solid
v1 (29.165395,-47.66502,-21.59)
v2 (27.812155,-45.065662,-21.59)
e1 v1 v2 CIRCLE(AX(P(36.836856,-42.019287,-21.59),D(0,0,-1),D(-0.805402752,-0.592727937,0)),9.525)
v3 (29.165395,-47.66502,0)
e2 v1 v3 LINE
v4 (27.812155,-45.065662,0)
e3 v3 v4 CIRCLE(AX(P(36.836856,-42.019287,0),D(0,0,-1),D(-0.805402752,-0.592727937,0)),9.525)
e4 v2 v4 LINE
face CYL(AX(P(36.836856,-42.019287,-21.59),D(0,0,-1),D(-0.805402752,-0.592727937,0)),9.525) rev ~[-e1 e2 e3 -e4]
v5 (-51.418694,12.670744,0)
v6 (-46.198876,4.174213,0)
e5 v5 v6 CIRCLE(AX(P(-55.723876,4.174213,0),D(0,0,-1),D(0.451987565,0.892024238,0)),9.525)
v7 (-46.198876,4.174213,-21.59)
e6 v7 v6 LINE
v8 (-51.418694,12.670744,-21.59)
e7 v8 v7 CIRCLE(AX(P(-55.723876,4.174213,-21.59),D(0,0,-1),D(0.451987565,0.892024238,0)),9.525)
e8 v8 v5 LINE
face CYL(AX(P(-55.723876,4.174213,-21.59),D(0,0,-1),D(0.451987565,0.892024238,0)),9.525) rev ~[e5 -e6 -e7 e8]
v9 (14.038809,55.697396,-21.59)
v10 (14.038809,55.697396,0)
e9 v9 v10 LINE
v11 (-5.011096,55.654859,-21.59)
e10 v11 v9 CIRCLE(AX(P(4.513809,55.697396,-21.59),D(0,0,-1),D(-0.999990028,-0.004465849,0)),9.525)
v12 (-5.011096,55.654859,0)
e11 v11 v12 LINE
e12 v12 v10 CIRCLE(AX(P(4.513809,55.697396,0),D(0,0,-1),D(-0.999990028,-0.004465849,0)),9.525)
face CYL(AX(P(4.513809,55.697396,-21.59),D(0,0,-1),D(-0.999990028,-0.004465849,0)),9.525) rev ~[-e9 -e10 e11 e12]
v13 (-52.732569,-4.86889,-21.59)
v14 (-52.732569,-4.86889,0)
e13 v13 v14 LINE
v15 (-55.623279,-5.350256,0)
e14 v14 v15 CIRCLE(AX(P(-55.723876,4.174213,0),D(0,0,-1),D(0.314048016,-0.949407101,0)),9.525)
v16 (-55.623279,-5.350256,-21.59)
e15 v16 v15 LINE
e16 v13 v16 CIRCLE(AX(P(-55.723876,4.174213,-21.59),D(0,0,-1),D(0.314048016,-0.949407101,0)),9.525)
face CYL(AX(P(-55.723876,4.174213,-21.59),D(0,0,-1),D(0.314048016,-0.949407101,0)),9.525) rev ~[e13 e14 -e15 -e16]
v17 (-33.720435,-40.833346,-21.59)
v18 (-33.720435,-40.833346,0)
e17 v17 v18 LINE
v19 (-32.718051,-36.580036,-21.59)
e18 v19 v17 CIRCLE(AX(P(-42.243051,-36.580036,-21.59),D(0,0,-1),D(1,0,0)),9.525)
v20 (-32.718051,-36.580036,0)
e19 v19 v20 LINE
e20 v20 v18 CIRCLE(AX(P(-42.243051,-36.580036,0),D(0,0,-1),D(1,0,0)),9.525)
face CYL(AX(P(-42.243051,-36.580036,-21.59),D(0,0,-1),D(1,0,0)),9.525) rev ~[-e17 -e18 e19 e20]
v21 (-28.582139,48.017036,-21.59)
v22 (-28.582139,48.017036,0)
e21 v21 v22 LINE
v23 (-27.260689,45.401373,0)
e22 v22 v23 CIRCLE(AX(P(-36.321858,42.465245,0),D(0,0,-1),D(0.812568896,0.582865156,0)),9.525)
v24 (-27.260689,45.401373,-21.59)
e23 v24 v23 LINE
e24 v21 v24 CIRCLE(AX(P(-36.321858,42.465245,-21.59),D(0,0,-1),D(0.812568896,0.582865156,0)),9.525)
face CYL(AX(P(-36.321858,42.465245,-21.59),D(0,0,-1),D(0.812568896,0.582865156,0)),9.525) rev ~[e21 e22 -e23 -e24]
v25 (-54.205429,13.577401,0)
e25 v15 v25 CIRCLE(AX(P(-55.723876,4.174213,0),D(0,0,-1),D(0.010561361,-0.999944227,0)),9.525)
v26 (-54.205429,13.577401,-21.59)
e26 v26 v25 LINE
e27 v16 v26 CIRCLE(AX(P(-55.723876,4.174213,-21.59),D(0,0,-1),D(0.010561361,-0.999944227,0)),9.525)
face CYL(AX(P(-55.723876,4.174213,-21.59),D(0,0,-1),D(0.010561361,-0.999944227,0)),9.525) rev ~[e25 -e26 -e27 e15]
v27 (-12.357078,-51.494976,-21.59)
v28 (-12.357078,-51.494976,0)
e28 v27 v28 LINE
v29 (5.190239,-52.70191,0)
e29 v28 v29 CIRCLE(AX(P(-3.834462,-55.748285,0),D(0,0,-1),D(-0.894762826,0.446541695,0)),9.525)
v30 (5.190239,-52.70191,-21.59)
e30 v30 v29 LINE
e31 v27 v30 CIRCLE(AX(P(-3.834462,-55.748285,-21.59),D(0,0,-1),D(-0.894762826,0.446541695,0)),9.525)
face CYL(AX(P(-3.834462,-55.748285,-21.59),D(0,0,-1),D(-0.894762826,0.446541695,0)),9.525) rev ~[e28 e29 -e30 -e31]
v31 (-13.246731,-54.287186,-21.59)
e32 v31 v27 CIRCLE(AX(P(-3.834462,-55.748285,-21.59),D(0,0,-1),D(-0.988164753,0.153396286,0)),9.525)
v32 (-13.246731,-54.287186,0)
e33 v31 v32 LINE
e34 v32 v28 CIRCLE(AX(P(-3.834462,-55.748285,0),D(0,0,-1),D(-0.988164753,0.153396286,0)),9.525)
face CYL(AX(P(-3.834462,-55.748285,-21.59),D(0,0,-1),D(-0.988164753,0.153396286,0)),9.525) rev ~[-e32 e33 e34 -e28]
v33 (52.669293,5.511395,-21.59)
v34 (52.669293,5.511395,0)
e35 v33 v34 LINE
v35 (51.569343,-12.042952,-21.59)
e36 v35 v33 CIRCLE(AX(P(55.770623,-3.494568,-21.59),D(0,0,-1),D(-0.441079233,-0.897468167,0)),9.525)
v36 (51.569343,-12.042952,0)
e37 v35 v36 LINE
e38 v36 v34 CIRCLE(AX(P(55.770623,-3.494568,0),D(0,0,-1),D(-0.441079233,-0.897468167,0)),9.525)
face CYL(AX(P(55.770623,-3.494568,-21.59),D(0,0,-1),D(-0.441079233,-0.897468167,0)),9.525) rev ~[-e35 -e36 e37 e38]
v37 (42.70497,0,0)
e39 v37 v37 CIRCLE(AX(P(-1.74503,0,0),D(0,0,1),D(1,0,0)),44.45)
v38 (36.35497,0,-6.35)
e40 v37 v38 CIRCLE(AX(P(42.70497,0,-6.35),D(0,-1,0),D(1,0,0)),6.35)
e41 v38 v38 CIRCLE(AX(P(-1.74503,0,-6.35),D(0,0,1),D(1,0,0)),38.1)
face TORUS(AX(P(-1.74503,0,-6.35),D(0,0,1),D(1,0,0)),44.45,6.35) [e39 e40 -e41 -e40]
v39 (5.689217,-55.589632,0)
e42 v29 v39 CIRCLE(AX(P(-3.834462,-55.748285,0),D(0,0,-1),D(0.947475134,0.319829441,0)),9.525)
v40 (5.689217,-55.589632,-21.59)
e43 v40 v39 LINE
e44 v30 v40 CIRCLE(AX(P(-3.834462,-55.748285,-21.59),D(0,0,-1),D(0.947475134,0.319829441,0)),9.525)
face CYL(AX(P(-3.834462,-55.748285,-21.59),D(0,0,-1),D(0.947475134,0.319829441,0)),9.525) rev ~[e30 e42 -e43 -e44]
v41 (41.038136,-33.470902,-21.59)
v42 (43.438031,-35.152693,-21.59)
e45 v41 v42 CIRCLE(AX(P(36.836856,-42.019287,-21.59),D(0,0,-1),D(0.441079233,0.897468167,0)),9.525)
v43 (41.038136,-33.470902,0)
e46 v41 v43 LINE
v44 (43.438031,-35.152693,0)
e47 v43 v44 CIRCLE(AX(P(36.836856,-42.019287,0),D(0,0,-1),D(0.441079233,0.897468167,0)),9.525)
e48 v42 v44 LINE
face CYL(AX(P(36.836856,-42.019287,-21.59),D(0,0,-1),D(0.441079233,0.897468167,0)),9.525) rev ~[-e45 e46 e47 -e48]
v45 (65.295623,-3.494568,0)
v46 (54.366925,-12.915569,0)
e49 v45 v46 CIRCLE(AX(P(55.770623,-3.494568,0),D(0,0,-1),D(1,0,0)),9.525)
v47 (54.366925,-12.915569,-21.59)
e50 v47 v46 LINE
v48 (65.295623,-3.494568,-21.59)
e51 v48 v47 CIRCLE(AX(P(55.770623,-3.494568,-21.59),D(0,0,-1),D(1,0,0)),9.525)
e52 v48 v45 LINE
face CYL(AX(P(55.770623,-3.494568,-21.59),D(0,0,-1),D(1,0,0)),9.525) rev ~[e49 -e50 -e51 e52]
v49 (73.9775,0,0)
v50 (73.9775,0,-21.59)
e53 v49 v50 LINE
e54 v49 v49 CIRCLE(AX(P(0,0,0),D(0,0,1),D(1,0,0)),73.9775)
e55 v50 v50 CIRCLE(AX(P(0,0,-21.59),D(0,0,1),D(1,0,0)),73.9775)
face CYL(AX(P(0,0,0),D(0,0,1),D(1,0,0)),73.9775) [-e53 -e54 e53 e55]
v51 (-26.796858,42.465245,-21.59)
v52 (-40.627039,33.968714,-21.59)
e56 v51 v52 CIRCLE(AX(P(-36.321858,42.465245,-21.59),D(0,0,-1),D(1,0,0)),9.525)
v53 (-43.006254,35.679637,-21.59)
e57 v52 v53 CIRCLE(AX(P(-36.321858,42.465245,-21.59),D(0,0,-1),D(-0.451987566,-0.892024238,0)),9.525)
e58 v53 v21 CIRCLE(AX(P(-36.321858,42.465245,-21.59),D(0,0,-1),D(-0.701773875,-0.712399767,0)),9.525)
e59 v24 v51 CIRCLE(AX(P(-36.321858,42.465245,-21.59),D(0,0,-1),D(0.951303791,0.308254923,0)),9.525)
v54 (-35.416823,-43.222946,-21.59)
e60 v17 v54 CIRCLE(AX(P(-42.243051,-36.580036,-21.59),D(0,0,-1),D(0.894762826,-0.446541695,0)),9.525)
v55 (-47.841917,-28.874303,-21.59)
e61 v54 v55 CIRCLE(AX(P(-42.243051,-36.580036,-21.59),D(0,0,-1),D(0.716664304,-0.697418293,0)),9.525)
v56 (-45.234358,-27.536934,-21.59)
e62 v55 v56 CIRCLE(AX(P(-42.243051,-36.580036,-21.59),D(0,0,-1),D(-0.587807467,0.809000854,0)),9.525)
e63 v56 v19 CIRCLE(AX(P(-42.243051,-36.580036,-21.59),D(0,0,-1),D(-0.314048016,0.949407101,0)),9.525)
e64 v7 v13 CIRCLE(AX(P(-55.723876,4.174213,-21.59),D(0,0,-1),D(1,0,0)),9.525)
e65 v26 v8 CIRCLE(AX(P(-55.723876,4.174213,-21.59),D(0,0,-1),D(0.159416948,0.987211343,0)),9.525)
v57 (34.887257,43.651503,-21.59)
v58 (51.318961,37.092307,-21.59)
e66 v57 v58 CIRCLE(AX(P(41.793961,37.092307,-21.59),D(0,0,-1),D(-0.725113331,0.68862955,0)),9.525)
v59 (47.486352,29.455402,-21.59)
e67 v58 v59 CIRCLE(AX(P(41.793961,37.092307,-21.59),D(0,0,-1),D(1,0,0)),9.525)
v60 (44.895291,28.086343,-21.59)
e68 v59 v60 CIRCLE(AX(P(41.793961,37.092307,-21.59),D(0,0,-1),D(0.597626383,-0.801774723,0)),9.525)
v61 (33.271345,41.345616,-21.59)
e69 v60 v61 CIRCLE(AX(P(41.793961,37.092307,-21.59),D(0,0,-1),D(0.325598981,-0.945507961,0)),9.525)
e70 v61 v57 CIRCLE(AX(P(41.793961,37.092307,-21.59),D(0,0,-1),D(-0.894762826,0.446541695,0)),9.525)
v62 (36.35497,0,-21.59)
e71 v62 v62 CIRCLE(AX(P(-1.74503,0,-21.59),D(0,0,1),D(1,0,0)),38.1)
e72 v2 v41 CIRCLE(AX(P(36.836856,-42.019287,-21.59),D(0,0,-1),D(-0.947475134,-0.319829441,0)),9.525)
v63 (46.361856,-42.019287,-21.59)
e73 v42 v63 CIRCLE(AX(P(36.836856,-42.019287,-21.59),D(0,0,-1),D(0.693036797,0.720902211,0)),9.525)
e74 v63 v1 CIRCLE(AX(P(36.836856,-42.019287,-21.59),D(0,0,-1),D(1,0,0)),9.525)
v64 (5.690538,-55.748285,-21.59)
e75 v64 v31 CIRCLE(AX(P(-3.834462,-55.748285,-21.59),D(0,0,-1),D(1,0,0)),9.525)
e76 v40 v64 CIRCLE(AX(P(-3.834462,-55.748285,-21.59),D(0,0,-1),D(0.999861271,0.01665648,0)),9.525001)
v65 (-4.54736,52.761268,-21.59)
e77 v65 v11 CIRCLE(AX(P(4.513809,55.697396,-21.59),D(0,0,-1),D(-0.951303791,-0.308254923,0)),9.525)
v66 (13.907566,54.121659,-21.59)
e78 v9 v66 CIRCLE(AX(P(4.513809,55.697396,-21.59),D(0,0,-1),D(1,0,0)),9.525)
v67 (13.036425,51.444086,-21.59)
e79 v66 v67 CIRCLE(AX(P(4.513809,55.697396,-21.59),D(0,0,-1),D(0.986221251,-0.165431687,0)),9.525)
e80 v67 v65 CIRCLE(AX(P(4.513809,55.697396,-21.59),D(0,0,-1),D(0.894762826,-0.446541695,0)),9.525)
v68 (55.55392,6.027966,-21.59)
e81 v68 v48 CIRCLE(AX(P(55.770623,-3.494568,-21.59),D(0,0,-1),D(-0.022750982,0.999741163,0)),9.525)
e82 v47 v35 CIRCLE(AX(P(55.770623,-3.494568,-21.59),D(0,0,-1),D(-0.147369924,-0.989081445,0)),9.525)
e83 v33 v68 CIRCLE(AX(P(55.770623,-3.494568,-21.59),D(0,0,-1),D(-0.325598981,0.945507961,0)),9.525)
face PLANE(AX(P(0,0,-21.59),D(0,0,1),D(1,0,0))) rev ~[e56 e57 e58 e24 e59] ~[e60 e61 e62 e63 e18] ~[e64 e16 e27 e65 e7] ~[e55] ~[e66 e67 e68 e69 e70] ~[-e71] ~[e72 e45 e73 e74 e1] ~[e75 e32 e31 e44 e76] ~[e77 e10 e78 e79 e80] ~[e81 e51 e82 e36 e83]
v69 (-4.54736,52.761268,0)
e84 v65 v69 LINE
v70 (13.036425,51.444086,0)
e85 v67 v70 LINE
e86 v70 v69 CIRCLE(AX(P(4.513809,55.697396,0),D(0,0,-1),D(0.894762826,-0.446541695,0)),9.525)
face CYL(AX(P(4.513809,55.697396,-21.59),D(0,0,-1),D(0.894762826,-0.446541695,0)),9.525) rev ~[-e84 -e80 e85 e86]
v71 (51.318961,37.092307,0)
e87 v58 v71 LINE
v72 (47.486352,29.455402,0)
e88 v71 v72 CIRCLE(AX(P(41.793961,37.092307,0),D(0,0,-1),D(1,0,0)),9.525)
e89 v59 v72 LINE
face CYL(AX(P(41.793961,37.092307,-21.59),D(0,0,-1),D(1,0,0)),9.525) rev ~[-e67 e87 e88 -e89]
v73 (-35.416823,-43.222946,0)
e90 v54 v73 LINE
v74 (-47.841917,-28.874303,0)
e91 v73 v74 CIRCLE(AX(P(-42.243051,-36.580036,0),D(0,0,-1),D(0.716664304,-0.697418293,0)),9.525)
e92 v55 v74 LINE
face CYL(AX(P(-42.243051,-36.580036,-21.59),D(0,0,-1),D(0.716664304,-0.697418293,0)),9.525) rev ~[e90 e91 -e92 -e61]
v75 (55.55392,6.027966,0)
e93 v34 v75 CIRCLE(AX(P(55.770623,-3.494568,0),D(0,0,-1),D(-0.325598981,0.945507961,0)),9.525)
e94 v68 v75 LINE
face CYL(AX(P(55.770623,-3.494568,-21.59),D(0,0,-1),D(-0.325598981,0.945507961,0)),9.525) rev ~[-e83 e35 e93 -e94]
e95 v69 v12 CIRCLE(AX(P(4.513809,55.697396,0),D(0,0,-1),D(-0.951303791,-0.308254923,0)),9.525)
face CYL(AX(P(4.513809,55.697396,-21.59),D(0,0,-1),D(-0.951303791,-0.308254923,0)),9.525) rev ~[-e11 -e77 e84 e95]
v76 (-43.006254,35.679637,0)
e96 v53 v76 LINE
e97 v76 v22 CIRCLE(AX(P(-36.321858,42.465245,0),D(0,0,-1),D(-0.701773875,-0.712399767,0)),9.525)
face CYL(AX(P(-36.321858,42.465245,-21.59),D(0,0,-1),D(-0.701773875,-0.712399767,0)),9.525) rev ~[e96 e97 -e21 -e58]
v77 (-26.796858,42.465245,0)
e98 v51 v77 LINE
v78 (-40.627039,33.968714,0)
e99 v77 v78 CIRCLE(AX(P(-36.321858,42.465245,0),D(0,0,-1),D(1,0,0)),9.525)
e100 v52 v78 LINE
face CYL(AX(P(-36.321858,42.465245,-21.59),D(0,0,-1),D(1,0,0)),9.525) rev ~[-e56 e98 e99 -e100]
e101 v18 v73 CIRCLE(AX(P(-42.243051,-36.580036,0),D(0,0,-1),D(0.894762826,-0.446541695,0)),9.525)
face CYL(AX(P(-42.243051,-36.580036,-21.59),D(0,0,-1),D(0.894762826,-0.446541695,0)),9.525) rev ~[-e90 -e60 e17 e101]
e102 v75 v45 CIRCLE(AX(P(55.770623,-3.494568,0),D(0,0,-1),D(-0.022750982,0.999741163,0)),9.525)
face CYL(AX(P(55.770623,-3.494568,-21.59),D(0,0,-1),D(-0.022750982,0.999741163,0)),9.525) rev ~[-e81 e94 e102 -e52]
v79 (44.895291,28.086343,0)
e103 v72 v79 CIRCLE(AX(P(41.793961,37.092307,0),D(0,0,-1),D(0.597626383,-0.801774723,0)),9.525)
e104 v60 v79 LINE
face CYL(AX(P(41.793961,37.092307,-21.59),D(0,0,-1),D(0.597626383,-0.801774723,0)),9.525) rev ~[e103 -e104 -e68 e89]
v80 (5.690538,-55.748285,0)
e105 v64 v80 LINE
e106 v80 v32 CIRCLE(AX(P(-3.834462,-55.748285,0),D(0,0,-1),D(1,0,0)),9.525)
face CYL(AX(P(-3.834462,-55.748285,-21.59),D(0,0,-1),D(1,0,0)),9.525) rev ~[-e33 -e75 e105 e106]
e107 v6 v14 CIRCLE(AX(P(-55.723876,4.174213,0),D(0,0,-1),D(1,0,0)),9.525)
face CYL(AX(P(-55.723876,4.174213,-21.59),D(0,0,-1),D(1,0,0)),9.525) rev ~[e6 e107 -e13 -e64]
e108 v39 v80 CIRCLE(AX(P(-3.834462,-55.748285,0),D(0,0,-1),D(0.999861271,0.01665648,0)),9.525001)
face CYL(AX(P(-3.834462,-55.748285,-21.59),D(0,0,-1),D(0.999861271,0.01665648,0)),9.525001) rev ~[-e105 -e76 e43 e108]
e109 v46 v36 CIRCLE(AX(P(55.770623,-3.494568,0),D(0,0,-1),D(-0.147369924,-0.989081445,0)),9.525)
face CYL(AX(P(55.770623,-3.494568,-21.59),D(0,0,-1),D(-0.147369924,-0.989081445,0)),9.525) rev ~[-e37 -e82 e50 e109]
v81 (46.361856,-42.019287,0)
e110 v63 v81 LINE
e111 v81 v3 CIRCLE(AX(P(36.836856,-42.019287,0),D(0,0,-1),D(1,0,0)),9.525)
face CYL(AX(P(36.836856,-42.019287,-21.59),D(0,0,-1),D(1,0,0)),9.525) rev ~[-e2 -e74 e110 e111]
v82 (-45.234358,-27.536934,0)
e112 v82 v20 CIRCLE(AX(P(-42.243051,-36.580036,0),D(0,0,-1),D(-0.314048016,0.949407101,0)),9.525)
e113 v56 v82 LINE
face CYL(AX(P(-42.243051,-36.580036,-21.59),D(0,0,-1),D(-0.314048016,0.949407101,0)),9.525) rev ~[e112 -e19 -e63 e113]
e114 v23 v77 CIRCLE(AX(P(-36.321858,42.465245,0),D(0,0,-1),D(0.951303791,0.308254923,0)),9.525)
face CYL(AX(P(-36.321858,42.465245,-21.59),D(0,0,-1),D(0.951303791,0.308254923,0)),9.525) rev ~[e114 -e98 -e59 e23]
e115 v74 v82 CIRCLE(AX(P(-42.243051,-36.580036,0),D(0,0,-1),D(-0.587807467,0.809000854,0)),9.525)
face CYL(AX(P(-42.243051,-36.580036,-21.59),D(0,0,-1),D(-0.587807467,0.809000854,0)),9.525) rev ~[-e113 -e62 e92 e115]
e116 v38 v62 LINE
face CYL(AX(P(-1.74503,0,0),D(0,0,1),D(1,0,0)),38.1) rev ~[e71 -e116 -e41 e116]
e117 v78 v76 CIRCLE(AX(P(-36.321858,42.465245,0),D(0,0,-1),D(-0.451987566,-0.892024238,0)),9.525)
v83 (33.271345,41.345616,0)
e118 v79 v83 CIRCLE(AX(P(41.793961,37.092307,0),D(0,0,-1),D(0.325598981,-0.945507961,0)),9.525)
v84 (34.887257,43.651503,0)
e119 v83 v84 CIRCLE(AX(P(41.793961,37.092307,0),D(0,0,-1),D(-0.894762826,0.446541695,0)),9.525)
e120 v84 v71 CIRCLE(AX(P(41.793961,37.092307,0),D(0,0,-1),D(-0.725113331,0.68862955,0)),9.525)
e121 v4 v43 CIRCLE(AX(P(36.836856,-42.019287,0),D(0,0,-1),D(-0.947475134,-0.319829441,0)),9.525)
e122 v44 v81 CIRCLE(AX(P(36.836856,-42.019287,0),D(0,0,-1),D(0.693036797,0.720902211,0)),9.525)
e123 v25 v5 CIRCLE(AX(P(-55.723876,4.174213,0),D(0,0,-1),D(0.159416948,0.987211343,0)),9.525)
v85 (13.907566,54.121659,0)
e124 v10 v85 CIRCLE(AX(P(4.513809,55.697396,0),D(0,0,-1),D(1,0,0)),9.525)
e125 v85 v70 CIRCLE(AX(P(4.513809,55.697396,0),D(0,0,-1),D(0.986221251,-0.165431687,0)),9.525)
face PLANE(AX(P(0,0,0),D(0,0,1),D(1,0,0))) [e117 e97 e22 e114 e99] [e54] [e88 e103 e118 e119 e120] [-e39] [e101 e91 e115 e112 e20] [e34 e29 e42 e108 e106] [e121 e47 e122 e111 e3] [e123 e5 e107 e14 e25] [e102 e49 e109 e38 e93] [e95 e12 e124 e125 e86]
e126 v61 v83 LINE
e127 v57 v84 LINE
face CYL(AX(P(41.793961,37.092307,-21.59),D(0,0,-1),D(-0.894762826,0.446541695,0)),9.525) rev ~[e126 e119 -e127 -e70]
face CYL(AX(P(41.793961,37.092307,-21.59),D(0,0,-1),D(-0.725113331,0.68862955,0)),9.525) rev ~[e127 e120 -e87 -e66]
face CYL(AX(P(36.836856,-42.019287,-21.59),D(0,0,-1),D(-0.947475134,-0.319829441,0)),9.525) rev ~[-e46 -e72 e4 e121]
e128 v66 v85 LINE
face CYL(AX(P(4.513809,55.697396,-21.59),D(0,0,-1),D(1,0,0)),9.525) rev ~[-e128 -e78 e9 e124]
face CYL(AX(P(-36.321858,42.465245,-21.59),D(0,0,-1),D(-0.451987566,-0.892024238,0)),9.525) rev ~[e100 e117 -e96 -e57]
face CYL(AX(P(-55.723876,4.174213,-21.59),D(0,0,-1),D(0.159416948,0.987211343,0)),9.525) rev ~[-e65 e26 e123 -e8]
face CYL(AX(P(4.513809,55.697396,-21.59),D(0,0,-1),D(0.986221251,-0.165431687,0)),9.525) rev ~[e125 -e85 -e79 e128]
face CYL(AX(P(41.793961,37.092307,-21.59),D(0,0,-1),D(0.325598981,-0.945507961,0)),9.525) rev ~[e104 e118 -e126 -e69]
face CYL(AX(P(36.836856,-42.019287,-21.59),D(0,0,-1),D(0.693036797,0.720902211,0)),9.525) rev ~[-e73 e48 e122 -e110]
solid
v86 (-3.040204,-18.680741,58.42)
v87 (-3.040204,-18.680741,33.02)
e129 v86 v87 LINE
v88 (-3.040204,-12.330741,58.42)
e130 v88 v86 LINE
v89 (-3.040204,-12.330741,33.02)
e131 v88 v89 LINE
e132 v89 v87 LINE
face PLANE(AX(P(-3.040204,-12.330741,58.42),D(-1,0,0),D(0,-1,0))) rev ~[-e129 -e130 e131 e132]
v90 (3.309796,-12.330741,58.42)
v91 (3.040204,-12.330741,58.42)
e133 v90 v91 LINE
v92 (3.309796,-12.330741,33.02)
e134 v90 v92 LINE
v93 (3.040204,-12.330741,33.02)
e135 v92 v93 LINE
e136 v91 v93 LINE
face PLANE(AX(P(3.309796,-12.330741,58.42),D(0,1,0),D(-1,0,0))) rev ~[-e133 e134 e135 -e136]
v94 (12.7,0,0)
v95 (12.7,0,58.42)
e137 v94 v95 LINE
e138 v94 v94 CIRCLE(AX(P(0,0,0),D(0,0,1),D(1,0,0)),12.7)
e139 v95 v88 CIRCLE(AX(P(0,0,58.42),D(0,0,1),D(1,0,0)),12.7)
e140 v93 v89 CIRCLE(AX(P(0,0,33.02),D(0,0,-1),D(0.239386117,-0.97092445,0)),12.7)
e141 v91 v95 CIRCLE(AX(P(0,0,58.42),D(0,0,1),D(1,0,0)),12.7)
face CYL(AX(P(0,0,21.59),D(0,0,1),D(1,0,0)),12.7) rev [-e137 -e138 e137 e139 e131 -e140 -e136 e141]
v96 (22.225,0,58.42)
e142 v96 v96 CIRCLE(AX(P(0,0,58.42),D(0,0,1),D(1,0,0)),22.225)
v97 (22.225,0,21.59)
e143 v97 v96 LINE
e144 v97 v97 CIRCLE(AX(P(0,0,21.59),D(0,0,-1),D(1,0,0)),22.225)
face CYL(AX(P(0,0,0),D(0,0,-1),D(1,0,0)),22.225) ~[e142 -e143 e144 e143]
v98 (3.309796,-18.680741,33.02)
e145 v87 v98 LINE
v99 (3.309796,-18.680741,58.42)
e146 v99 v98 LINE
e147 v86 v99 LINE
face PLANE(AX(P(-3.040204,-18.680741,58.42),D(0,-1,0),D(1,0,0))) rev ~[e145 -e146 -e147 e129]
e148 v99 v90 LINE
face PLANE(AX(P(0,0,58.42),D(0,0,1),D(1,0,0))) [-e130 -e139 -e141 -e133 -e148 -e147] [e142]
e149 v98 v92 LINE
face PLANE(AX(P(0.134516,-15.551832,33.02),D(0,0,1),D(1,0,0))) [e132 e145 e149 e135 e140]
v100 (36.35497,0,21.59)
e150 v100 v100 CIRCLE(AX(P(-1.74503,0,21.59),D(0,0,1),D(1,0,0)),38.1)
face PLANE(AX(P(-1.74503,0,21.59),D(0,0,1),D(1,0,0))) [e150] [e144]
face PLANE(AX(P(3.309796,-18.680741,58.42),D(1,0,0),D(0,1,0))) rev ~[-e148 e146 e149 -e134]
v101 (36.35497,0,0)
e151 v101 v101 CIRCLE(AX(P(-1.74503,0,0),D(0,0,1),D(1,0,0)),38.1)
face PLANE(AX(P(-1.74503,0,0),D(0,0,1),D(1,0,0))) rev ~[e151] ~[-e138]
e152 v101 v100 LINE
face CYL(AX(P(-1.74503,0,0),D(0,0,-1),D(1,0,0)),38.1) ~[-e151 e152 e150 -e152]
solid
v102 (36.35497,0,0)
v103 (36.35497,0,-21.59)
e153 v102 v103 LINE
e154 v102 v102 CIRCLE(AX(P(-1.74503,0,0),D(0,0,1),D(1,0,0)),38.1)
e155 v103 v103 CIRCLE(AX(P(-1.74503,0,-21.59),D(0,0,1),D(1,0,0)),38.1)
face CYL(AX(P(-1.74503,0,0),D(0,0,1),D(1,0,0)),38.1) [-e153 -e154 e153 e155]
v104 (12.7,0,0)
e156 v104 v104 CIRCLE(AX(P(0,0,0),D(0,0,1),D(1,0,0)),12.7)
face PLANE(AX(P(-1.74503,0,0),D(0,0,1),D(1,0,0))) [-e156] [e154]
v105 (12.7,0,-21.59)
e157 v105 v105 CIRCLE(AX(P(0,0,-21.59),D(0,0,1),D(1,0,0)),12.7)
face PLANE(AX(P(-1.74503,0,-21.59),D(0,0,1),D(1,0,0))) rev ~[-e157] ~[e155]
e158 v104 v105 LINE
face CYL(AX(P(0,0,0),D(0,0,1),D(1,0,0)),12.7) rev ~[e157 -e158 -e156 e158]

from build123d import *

# Parameters (mm, degrees)
F0_R      = 22.225
F0_R_2    = 12.7
F1_DEPTH  = 58.42
F2_R      = 38.1
F3_DEPTH  = 21.59
F4_DEPTH  = 21.591
F2_R_2    = 55.88
F5_DEPTH  = 21.59
F2_R_3    = 73.9775
F6_DEPTH  = 21.59
F7_DEPTH  = 21.59
F8_R      = 12.7
F9_DEPTH  = 21.591
F11_DEPTH = 25.4
F13_DEPTH = 80.011
F14_DEPTH = 80.011
F15_DEPTH = 80.011
F16_DEPTH = 80.011
F17_DEPTH = 80.011
F18_DEPTH = 80.011
F19_DEPTH = 80.011
F20_R     = 6.35


with BuildPart() as f1:
    # F0 (on Top) → F1 (new body)
    with BuildSketch(Plane.XY):
        Circle(F0_R)
        Circle(F0_R_2, mode=Mode.SUBTRACT)
    extrude(amount=F1_DEPTH)

    # F2 (on Top) → F3 (join)
    with BuildSketch(Plane.XY):
        with Locations((-1.7450299347, 0)):
            Circle(F2_R)
    extrude(amount=F3_DEPTH)

    # F4 (cut, through all): a face of the model
    f4_faces = [f1.faces().sort_by_distance(p)[0] for p in [
        (0, 0, 21.59),
    ]]
    extrude(f4_faces, amount=-F4_DEPTH, mode=Mode.SUBTRACT)

    # F10 (on face) → F11 (cut)
    with BuildSketch(Plane.XY.offset(58.42)):
        with BuildLine():
            ThreePointArc((3.0402036796, -12.3307405125), (0, -12.7), (-3.0402036796, -12.3307405125))
            Line((-3.0402036796, -12.3307405125), (-3.0402036796, -18.6807405125))
            Line((-3.0402036796, -18.6807405125), (3.3097963204, -18.6807405125))
            Line((3.3097963204, -18.6807405125), (3.3097963204, -12.3307405125))
            Line((3.3097963204, -12.3307405125), (3.0402036796, -12.3307405125))
        make_face()
    extrude(amount=-F11_DEPTH, mode=Mode.SUBTRACT)


with BuildPart() as f5:
    # F2 (on Top) → F5 (new body)
    with BuildSketch(Plane.XY):
        Circle(F2_R_2)
        with Locations((-1.7450299347, 0)):
            Circle(F2_R, mode=Mode.SUBTRACT)
    extrude(amount=-F5_DEPTH)

    # F2 (on Top) → F6 (join)
    with BuildSketch(Plane.XY):
        Circle(F2_R_3)
        Circle(F2_R_2, mode=Mode.SUBTRACT)
    extrude(amount=-F6_DEPTH)

    # F12 (on face) → F13 (cut, through all)
    with BuildSketch(Plane(origin=(0, 0, -21.59), x_dir=(1, 0, 0), z_dir=(0, 0, -1))):
        with BuildLine():
            ThreePointArc((51.318961174, -37.0923066064), (50.3070584988, -32.8199771552), (47.4863524728, -29.4554023709))
            ThreePointArc((47.4863524728, -29.4554023709), (44.8031715149, -33.3953622859), (41.793961174, -37.0923066064))
            ThreePointArc((41.793961174, -37.0923066064), (38.4806192525, -40.5193329406), (34.8872566955, -43.6515030699))
            ThreePointArc((34.8872566955, -43.6515030699), (45.3251978443, -45.938548327), (51.318961174, -37.0923066064))
        make_face()
        with BuildLine():
            ThreePointArc((34.8872566955, -43.6515030699), (38.4806192525, -40.5193329406), (41.793961174, -37.0923066064))
            Line((41.793961174, -37.0923066064), (33.2713452593, -41.3456162553))
            ThreePointArc((33.2713452593, -41.3456162553), (33.993623973, -42.5586000993), (34.8872566955, -43.6515030699))
        make_face()
        with BuildLine():
            Line((41.793961174, -37.0923066064), (44.8952914687, -28.0863432818))
            ThreePointArc((44.8952914687, -28.0863432818), (34.6315827709, -30.8132970818), (33.2713452593, -41.3456162553))
            Line((33.2713452593, -41.3456162553), (41.793961174, -37.0923066064))
        make_face()
        with BuildLine():
            ThreePointArc((41.793961174, -37.0923066064), (44.8031715149, -33.3953622859), (47.4863524728, -29.4554023709))
            ThreePointArc((47.4863524728, -29.4554023709), (46.243788762, -28.6706286597), (44.8952914687, -28.0863432818))
            Line((44.8952914687, -28.0863432818), (41.793961174, -37.0923066064))
        make_face()
    extrude(amount=-F13_DEPTH, mode=Mode.SUBTRACT)

    # F12 (on face) → F14 (cut, through all)
    with BuildSketch(Plane(origin=(0, 0, -21.59), x_dir=(1, 0, 0), z_dir=(0, 0, -1))):
        with BuildLine():
            Line((52.6692927405, -5.5113952149), (55.7706230351, 3.4945681097))
            Line((55.7706230351, 3.4945681097), (51.5693433404, 12.0429523972))
            ThreePointArc((51.5693433404, 12.0429523972), (46.264266836, 2.898903091), (52.6692927405, -5.5113952149))
        make_face()
        with BuildLine():
            ThreePointArc((55.7706230351, 3.4945681097), (55.8526490652, 1.7481396965), (55.88, 0))
            ThreePointArc((55.88, 0), (55.7984204348, -3.0183897999), (55.5539199361, -6.0279664671))
            ThreePointArc((55.5539199361, -6.0279664671), (62.4287582088, -3.3168092113), (65.2956230351, 3.4945681097))
            ThreePointArc((65.2956230351, 3.4945681097), (61.989762708, 10.7089930161), (54.3669245093, 12.9155688765))
            ThreePointArc((54.3669245093, 12.9155688765), (55.2698711654, 8.2350313518), (55.7706230351, 3.4945681097))
        make_face()
        with BuildLine():
            ThreePointArc((55.5539199361, -6.0279664671), (55.7984204348, -3.0183897999), (55.88, 0))
            ThreePointArc((55.88, 0), (55.8526490652, 1.7481396965), (55.7706230351, 3.4945681097))
            Line((55.7706230351, 3.4945681097), (52.6692927405, -5.5113952149))
            ThreePointArc((52.6692927405, -5.5113952149), (54.0916209908, -5.8812826322), (55.5539199361, -6.0279664671))
        make_face()
        with BuildLine():
            Line((51.5693433404, 12.0429523972), (55.7706230351, 3.4945681097))
            ThreePointArc((55.7706230351, 3.4945681097), (55.2698711654, 8.2350313518), (54.3669245093, 12.9155688765))
            ThreePointArc((54.3669245093, 12.9155688765), (52.9343737348, 12.5874947512), (51.5693433404, 12.0429523972))
        make_face()
    extrude(amount=-F14_DEPTH, mode=Mode.SUBTRACT)

    # F12 (on face) → F15 (cut, through all)
    with BuildSketch(Plane(origin=(0, 0, -21.59), x_dir=(1, 0, 0), z_dir=(0, 0, -1))):
        with BuildLine():
            ThreePointArc((27.8121552298, 45.0656620552), (30.5578463529, 34.8569082288), (41.0381355722, 33.4709023445))
            Line((41.0381355722, 33.4709023445), (36.8368558775, 42.019286632))
            Line((36.8368558775, 42.019286632), (27.8121552298, 45.0656620552))
        make_face()
        with BuildLine():
            ThreePointArc((41.0381355722, 33.4709023445), (42.3031493704, 34.218949431), (43.4380313731, 35.1526930751))
            ThreePointArc((43.4380313731, 35.1526930751), (40.284015534, 38.7268962409), (36.8368558775, 42.019286632))
            Line((36.8368558775, 42.019286632), (41.0381355722, 33.4709023445))
        make_face()
        with BuildLine():
            ThreePointArc((36.8368558775, 42.019286632), (40.284015534, 38.7268962409), (43.4380313731, 35.1526930751))
            ThreePointArc((43.4380313731, 35.1526930751), (45.6004687625, 38.2877032948), (46.3618558775, 42.019286632))
            ThreePointArc((46.3618558775, 42.019286632), (39.8079631605, 51.0690461046), (29.1653946675, 47.6650202338))
            ThreePointArc((29.1653946675, 47.6650202338), (33.1216371308, 45.0059057655), (36.8368558775, 42.019286632))
        make_face()
        with BuildLine():
            Line((27.8121552298, 45.0656620552), (36.8368558775, 42.019286632))
            ThreePointArc((36.8368558775, 42.019286632), (33.1216371308, 45.0059057655), (29.1653946675, 47.6650202338))
            ThreePointArc((29.1653946675, 47.6650202338), (28.3882097771, 46.4176958978), (27.8121552298, 45.0656620552))
        make_face()
    extrude(amount=-F15_DEPTH, mode=Mode.SUBTRACT)

    # F12 (on face) → F16 (cut, through all)
    with BuildSketch(Plane(origin=(0, 0, -21.59), x_dir=(1, 0, 0), z_dir=(0, 0, -1))):
        with BuildLine():
            ThreePointArc((-12.3570776229, 51.494975557), (-3.1808602807, 46.2457365913), (5.1902389395, 52.7019097828))
            Line((5.1902389395, 52.7019097828), (-3.8344617082, 55.748285206))
            Line((-3.8344617082, 55.748285206), (-12.3570776229, 51.494975557))
        make_face()
        with BuildLine():
            ThreePointArc((-3.8344617082, 55.748285206), (0.930764147, 55.8722478347), (5.6892169, 55.5896322264))
            ThreePointArc((5.6892169, 55.5896322264), (5.6902079381, 55.6689559648), (5.6905382918, 55.748285206))
            ThreePointArc((5.6905382918, 55.748285206), (-4.5671827211, 65.245060707), (-13.2467309821, 54.2871855808))
            ThreePointArc((-13.2467309821, 54.2871855808), (-8.5717844676, 55.2186464072), (-3.8344617082, 55.748285206))
        make_face()
        with BuildLine():
            ThreePointArc((-42.243050764, 36.5800363881), (-38.97173424, 40.0472012796), (-35.4168232731, 43.2229456335))
            ThreePointArc((-35.4168232731, 43.2229456335), (-49.4435707805, 42.8152698633), (-47.8419168883, 28.8743032548))
            ThreePointArc((-47.8419168883, 28.8743032548), (-45.2069677153, 32.846681263), (-42.243050764, 36.5800363881))
        make_face()
        with BuildLine():
            ThreePointArc((-32.718050764, 36.5800363881), (-32.9720329777, 38.7649515366), (-33.7204348492, 40.833346037))
            Line((-33.7204348492, 40.833346037), (-42.243050764, 36.5800363881))
            Line((-42.243050764, 36.5800363881), (-45.2343581205, 27.5369337513))
            ThreePointArc((-45.2343581205, 27.5369337513), (-36.664815271, 28.8593554735), (-32.718050764, 36.5800363881))
        make_face()
        with BuildLine():
            Line((-45.2343581205, 27.5369337513), (-42.243050764, 36.5800363881))
            ThreePointArc((-42.243050764, 36.5800363881), (-45.2069677153, 32.846681263), (-47.8419168883, 28.8743032548))
            ThreePointArc((-47.8419168883, 28.8743032548), (-46.5898782744, 28.1047360633), (-45.2343581205, 27.5369337513))
        make_face()
        with BuildLine():
            Line((-3.8344617082, 55.748285206), (5.1902389395, 52.7019097828))
            ThreePointArc((5.1902389395, 52.7019097828), (5.5514494614, 54.1264663144), (5.6892169, 55.5896322264))
            ThreePointArc((5.6892169, 55.5896322264), (0.930764147, 55.8722478347), (-3.8344617082, 55.748285206))
        make_face()
        with BuildLine():
            ThreePointArc((-13.2467309821, 54.2871855808), (-12.9099306155, 52.8566612483), (-12.3570776229, 51.494975557))
            Line((-12.3570776229, 51.494975557), (-3.8344617082, 55.748285206))
            ThreePointArc((-3.8344617082, 55.748285206), (-8.5717844676, 55.2186464072), (-13.2467309821, 54.2871855808))
        make_face()
        with BuildLine():
            Line((-42.243050764, 36.5800363881), (-33.7204348492, 40.833346037))
            ThreePointArc((-33.7204348492, 40.833346037), (-34.4761791267, 42.0937764953), (-35.4168232731, 43.2229456335))
            ThreePointArc((-35.4168232731, 43.2229456335), (-38.97173424, 40.0472012796), (-42.243050764, 36.5800363881))
        make_face()
    extrude(amount=-F16_DEPTH, mode=Mode.SUBTRACT)

    # F12 (on face) → F17 (cut, through all)
    with BuildSketch(Plane(origin=(0, 0, -21.59), x_dir=(1, 0, 0), z_dir=(0, 0, -1))):
        with BuildLine():
            ThreePointArc((14.0388088454, -55.6973960765), (14.0059414937, -54.9067996017), (13.9075662657, -54.1216592555))
            ThreePointArc((13.9075662657, -54.1216592555), (9.2443226836, -55.1100435322), (4.5138088454, -55.6973960765))
            ThreePointArc((4.5138088454, -55.6973960765), (-0.2495516477, -55.8794427672), (-5.0110961717, -55.6548588639))
            ThreePointArc((-5.0110961717, -55.6548588639), (4.492540186, -65.2223723308), (14.0388088454, -55.6973960765))
        make_face()
        with BuildLine():
            ThreePointArc((13.9075662657, -54.1216592555), (13.571482798, -52.7505049065), (13.0364247601, -51.4440864276))
            Line((13.0364247601, -51.4440864276), (4.5138088454, -55.6973960765))
            ThreePointArc((4.5138088454, -55.6973960765), (9.2443226836, -55.1100435322), (13.9075662657, -54.1216592555))
        make_face()
        with BuildLine():
            Line((4.5138088454, -55.6973960765), (13.0364247601, -51.4440864276))
            ThreePointArc((13.0364247601, -51.4440864276), (3.8022952951, -46.1990081361), (-4.5473597625, -52.7612679358))
            Line((-4.5473597625, -52.7612679358), (4.5138088454, -55.6973960765))
        make_face()
        with BuildLine():
            Line((4.5138088454, -55.6973960765), (-4.5473597625, -52.7612679358))
            ThreePointArc((-4.5473597625, -52.7612679358), (-4.8911765514, -54.1901221511), (-5.0110961717, -55.6548588639))
            ThreePointArc((-5.0110961717, -55.6548588639), (-0.2495516477, -55.8794427672), (4.5138088454, -55.6973960765))
        make_face()
    extrude(amount=-F17_DEPTH, mode=Mode.SUBTRACT)

    # F12 (on face) → F18 (cut, through all)
    with BuildSketch(Plane(origin=(0, 0, -21.59), x_dir=(1, 0, 0), z_dir=(0, 0, -1))):
        with BuildLine():
            ThreePointArc((-43.0062538432, -35.6796374754), (-42.513083422, -49.7036393331), (-28.5821389491, -48.0170358633))
            ThreePointArc((-28.5821389491, -48.0170358633), (-32.570504899, -45.4063498932), (-36.3218576809, -42.4652452555))
            ThreePointArc((-36.3218576809, -42.4652452555), (-39.8088989766, -39.2151241521), (-43.0062538432, -35.6796374754))
        make_face()
        with BuildLine():
            Line((-36.3218576809, -42.4652452555), (-27.260689073, -45.4013733962))
            ThreePointArc((-27.260689073, -45.4013733962), (-26.9135300933, -43.9515147481), (-26.7968576809, -42.4652452555))
            ThreePointArc((-26.7968576809, -42.4652452555), (-31.3359389778, -34.3494434044), (-40.6270392423, -33.9687143914))
            Line((-40.6270392423, -33.9687143914), (-36.3218576809, -42.4652452555))
        make_face()
        with BuildLine():
            ThreePointArc((-43.0062538432, -35.6796374754), (-39.8088989766, -39.2151241521), (-36.3218576809, -42.4652452555))
            Line((-36.3218576809, -42.4652452555), (-40.6270392423, -33.9687143914))
            ThreePointArc((-40.6270392423, -33.9687143914), (-41.8828395264, -34.7321277784), (-43.0062538432, -35.6796374754))
        make_face()
        with BuildLine():
            ThreePointArc((-28.5821389491, -48.0170358633), (-27.8202180517, -46.7603294938), (-27.260689073, -45.4013733962))
            Line((-27.260689073, -45.4013733962), (-36.3218576809, -42.4652452555))
            ThreePointArc((-36.3218576809, -42.4652452555), (-32.570504899, -45.4063498932), (-28.5821389491, -48.0170358633))
        make_face()
    extrude(amount=-F18_DEPTH, mode=Mode.SUBTRACT)

    # F12 (on face) → F19 (cut, through all)
    with BuildSketch(Plane(origin=(0, 0, -21.59), x_dir=(1, 0, 0), z_dir=(0, 0, -1))):
        with BuildLine():
            Line((-55.7238759175, -4.1742128282), (-51.4186943561, -12.6707436922))
            ThreePointArc((-51.4186943561, -12.6707436922), (-47.6080740664, -9.1601315313), (-46.1988759175, -4.1742128282))
            ThreePointArc((-46.1988759175, -4.1742128282), (-48.0031950028, 1.4040226648), (-52.7325685609, 4.8688898086))
            Line((-52.7325685609, 4.8688898086), (-55.7238759175, -4.1742128282))
        make_face()
        with BuildLine():
            ThreePointArc((-55.6232789524, 5.3502559366), (-65.2222638579, -4.8857263784), (-54.2054294836, -13.5774008741))
            ThreePointArc((-54.2054294836, -13.5774008741), (-55.1653698696, -8.9082190786), (-55.7238759175, -4.1742128282))
            ThreePointArc((-55.7238759175, -4.1742128282), (-55.8768834198, 0.5901688619), (-55.6232789524, 5.3502559366))
        make_face()
        with BuildLine():
            ThreePointArc((-55.7238759175, -4.1742128282), (-55.1653698696, -8.9082190786), (-54.2054294836, -13.5774008741))
            ThreePointArc((-54.2054294836, -13.5774008741), (-52.7769847474, -13.2318867808), (-51.4186943561, -12.6707436922))
            Line((-51.4186943561, -12.6707436922), (-55.7238759175, -4.1742128282))
        make_face()
        with BuildLine():
            ThreePointArc((-52.7325685609, 4.8688898086), (-54.1593004412, 5.2214100133), (-55.6232789524, 5.3502559366))
            ThreePointArc((-55.6232789524, 5.3502559366), (-55.8768834198, 0.5901688619), (-55.7238759175, -4.1742128282))
            Line((-55.7238759175, -4.1742128282), (-52.7325685609, 4.8688898086))
        make_face()
    extrude(amount=-F19_DEPTH, mode=Mode.SUBTRACT)

    # F20
    f20_edges = [f5.edges().sort_by_distance(p)[0] for p in [
        (-39.84503, 0, 0),
    ]]
    fillet(f20_edges, radius=F20_R)


with BuildPart() as f7:
    # F2 (on Top) → F7 (new body)
    with BuildSketch(Plane.XY):
        with Locations((-1.7450299347, 0)):
            Circle(F2_R)
    extrude(amount=-F7_DEPTH)

    # F8 (on Top) → F9 (cut, through all)
    with BuildSketch(Plane.XY):
        Circle(F8_R)
    extrude(amount=-F9_DEPTH, mode=Mode.SUBTRACT)


solid = Compound([f1.part, f5.part, f7.part])
